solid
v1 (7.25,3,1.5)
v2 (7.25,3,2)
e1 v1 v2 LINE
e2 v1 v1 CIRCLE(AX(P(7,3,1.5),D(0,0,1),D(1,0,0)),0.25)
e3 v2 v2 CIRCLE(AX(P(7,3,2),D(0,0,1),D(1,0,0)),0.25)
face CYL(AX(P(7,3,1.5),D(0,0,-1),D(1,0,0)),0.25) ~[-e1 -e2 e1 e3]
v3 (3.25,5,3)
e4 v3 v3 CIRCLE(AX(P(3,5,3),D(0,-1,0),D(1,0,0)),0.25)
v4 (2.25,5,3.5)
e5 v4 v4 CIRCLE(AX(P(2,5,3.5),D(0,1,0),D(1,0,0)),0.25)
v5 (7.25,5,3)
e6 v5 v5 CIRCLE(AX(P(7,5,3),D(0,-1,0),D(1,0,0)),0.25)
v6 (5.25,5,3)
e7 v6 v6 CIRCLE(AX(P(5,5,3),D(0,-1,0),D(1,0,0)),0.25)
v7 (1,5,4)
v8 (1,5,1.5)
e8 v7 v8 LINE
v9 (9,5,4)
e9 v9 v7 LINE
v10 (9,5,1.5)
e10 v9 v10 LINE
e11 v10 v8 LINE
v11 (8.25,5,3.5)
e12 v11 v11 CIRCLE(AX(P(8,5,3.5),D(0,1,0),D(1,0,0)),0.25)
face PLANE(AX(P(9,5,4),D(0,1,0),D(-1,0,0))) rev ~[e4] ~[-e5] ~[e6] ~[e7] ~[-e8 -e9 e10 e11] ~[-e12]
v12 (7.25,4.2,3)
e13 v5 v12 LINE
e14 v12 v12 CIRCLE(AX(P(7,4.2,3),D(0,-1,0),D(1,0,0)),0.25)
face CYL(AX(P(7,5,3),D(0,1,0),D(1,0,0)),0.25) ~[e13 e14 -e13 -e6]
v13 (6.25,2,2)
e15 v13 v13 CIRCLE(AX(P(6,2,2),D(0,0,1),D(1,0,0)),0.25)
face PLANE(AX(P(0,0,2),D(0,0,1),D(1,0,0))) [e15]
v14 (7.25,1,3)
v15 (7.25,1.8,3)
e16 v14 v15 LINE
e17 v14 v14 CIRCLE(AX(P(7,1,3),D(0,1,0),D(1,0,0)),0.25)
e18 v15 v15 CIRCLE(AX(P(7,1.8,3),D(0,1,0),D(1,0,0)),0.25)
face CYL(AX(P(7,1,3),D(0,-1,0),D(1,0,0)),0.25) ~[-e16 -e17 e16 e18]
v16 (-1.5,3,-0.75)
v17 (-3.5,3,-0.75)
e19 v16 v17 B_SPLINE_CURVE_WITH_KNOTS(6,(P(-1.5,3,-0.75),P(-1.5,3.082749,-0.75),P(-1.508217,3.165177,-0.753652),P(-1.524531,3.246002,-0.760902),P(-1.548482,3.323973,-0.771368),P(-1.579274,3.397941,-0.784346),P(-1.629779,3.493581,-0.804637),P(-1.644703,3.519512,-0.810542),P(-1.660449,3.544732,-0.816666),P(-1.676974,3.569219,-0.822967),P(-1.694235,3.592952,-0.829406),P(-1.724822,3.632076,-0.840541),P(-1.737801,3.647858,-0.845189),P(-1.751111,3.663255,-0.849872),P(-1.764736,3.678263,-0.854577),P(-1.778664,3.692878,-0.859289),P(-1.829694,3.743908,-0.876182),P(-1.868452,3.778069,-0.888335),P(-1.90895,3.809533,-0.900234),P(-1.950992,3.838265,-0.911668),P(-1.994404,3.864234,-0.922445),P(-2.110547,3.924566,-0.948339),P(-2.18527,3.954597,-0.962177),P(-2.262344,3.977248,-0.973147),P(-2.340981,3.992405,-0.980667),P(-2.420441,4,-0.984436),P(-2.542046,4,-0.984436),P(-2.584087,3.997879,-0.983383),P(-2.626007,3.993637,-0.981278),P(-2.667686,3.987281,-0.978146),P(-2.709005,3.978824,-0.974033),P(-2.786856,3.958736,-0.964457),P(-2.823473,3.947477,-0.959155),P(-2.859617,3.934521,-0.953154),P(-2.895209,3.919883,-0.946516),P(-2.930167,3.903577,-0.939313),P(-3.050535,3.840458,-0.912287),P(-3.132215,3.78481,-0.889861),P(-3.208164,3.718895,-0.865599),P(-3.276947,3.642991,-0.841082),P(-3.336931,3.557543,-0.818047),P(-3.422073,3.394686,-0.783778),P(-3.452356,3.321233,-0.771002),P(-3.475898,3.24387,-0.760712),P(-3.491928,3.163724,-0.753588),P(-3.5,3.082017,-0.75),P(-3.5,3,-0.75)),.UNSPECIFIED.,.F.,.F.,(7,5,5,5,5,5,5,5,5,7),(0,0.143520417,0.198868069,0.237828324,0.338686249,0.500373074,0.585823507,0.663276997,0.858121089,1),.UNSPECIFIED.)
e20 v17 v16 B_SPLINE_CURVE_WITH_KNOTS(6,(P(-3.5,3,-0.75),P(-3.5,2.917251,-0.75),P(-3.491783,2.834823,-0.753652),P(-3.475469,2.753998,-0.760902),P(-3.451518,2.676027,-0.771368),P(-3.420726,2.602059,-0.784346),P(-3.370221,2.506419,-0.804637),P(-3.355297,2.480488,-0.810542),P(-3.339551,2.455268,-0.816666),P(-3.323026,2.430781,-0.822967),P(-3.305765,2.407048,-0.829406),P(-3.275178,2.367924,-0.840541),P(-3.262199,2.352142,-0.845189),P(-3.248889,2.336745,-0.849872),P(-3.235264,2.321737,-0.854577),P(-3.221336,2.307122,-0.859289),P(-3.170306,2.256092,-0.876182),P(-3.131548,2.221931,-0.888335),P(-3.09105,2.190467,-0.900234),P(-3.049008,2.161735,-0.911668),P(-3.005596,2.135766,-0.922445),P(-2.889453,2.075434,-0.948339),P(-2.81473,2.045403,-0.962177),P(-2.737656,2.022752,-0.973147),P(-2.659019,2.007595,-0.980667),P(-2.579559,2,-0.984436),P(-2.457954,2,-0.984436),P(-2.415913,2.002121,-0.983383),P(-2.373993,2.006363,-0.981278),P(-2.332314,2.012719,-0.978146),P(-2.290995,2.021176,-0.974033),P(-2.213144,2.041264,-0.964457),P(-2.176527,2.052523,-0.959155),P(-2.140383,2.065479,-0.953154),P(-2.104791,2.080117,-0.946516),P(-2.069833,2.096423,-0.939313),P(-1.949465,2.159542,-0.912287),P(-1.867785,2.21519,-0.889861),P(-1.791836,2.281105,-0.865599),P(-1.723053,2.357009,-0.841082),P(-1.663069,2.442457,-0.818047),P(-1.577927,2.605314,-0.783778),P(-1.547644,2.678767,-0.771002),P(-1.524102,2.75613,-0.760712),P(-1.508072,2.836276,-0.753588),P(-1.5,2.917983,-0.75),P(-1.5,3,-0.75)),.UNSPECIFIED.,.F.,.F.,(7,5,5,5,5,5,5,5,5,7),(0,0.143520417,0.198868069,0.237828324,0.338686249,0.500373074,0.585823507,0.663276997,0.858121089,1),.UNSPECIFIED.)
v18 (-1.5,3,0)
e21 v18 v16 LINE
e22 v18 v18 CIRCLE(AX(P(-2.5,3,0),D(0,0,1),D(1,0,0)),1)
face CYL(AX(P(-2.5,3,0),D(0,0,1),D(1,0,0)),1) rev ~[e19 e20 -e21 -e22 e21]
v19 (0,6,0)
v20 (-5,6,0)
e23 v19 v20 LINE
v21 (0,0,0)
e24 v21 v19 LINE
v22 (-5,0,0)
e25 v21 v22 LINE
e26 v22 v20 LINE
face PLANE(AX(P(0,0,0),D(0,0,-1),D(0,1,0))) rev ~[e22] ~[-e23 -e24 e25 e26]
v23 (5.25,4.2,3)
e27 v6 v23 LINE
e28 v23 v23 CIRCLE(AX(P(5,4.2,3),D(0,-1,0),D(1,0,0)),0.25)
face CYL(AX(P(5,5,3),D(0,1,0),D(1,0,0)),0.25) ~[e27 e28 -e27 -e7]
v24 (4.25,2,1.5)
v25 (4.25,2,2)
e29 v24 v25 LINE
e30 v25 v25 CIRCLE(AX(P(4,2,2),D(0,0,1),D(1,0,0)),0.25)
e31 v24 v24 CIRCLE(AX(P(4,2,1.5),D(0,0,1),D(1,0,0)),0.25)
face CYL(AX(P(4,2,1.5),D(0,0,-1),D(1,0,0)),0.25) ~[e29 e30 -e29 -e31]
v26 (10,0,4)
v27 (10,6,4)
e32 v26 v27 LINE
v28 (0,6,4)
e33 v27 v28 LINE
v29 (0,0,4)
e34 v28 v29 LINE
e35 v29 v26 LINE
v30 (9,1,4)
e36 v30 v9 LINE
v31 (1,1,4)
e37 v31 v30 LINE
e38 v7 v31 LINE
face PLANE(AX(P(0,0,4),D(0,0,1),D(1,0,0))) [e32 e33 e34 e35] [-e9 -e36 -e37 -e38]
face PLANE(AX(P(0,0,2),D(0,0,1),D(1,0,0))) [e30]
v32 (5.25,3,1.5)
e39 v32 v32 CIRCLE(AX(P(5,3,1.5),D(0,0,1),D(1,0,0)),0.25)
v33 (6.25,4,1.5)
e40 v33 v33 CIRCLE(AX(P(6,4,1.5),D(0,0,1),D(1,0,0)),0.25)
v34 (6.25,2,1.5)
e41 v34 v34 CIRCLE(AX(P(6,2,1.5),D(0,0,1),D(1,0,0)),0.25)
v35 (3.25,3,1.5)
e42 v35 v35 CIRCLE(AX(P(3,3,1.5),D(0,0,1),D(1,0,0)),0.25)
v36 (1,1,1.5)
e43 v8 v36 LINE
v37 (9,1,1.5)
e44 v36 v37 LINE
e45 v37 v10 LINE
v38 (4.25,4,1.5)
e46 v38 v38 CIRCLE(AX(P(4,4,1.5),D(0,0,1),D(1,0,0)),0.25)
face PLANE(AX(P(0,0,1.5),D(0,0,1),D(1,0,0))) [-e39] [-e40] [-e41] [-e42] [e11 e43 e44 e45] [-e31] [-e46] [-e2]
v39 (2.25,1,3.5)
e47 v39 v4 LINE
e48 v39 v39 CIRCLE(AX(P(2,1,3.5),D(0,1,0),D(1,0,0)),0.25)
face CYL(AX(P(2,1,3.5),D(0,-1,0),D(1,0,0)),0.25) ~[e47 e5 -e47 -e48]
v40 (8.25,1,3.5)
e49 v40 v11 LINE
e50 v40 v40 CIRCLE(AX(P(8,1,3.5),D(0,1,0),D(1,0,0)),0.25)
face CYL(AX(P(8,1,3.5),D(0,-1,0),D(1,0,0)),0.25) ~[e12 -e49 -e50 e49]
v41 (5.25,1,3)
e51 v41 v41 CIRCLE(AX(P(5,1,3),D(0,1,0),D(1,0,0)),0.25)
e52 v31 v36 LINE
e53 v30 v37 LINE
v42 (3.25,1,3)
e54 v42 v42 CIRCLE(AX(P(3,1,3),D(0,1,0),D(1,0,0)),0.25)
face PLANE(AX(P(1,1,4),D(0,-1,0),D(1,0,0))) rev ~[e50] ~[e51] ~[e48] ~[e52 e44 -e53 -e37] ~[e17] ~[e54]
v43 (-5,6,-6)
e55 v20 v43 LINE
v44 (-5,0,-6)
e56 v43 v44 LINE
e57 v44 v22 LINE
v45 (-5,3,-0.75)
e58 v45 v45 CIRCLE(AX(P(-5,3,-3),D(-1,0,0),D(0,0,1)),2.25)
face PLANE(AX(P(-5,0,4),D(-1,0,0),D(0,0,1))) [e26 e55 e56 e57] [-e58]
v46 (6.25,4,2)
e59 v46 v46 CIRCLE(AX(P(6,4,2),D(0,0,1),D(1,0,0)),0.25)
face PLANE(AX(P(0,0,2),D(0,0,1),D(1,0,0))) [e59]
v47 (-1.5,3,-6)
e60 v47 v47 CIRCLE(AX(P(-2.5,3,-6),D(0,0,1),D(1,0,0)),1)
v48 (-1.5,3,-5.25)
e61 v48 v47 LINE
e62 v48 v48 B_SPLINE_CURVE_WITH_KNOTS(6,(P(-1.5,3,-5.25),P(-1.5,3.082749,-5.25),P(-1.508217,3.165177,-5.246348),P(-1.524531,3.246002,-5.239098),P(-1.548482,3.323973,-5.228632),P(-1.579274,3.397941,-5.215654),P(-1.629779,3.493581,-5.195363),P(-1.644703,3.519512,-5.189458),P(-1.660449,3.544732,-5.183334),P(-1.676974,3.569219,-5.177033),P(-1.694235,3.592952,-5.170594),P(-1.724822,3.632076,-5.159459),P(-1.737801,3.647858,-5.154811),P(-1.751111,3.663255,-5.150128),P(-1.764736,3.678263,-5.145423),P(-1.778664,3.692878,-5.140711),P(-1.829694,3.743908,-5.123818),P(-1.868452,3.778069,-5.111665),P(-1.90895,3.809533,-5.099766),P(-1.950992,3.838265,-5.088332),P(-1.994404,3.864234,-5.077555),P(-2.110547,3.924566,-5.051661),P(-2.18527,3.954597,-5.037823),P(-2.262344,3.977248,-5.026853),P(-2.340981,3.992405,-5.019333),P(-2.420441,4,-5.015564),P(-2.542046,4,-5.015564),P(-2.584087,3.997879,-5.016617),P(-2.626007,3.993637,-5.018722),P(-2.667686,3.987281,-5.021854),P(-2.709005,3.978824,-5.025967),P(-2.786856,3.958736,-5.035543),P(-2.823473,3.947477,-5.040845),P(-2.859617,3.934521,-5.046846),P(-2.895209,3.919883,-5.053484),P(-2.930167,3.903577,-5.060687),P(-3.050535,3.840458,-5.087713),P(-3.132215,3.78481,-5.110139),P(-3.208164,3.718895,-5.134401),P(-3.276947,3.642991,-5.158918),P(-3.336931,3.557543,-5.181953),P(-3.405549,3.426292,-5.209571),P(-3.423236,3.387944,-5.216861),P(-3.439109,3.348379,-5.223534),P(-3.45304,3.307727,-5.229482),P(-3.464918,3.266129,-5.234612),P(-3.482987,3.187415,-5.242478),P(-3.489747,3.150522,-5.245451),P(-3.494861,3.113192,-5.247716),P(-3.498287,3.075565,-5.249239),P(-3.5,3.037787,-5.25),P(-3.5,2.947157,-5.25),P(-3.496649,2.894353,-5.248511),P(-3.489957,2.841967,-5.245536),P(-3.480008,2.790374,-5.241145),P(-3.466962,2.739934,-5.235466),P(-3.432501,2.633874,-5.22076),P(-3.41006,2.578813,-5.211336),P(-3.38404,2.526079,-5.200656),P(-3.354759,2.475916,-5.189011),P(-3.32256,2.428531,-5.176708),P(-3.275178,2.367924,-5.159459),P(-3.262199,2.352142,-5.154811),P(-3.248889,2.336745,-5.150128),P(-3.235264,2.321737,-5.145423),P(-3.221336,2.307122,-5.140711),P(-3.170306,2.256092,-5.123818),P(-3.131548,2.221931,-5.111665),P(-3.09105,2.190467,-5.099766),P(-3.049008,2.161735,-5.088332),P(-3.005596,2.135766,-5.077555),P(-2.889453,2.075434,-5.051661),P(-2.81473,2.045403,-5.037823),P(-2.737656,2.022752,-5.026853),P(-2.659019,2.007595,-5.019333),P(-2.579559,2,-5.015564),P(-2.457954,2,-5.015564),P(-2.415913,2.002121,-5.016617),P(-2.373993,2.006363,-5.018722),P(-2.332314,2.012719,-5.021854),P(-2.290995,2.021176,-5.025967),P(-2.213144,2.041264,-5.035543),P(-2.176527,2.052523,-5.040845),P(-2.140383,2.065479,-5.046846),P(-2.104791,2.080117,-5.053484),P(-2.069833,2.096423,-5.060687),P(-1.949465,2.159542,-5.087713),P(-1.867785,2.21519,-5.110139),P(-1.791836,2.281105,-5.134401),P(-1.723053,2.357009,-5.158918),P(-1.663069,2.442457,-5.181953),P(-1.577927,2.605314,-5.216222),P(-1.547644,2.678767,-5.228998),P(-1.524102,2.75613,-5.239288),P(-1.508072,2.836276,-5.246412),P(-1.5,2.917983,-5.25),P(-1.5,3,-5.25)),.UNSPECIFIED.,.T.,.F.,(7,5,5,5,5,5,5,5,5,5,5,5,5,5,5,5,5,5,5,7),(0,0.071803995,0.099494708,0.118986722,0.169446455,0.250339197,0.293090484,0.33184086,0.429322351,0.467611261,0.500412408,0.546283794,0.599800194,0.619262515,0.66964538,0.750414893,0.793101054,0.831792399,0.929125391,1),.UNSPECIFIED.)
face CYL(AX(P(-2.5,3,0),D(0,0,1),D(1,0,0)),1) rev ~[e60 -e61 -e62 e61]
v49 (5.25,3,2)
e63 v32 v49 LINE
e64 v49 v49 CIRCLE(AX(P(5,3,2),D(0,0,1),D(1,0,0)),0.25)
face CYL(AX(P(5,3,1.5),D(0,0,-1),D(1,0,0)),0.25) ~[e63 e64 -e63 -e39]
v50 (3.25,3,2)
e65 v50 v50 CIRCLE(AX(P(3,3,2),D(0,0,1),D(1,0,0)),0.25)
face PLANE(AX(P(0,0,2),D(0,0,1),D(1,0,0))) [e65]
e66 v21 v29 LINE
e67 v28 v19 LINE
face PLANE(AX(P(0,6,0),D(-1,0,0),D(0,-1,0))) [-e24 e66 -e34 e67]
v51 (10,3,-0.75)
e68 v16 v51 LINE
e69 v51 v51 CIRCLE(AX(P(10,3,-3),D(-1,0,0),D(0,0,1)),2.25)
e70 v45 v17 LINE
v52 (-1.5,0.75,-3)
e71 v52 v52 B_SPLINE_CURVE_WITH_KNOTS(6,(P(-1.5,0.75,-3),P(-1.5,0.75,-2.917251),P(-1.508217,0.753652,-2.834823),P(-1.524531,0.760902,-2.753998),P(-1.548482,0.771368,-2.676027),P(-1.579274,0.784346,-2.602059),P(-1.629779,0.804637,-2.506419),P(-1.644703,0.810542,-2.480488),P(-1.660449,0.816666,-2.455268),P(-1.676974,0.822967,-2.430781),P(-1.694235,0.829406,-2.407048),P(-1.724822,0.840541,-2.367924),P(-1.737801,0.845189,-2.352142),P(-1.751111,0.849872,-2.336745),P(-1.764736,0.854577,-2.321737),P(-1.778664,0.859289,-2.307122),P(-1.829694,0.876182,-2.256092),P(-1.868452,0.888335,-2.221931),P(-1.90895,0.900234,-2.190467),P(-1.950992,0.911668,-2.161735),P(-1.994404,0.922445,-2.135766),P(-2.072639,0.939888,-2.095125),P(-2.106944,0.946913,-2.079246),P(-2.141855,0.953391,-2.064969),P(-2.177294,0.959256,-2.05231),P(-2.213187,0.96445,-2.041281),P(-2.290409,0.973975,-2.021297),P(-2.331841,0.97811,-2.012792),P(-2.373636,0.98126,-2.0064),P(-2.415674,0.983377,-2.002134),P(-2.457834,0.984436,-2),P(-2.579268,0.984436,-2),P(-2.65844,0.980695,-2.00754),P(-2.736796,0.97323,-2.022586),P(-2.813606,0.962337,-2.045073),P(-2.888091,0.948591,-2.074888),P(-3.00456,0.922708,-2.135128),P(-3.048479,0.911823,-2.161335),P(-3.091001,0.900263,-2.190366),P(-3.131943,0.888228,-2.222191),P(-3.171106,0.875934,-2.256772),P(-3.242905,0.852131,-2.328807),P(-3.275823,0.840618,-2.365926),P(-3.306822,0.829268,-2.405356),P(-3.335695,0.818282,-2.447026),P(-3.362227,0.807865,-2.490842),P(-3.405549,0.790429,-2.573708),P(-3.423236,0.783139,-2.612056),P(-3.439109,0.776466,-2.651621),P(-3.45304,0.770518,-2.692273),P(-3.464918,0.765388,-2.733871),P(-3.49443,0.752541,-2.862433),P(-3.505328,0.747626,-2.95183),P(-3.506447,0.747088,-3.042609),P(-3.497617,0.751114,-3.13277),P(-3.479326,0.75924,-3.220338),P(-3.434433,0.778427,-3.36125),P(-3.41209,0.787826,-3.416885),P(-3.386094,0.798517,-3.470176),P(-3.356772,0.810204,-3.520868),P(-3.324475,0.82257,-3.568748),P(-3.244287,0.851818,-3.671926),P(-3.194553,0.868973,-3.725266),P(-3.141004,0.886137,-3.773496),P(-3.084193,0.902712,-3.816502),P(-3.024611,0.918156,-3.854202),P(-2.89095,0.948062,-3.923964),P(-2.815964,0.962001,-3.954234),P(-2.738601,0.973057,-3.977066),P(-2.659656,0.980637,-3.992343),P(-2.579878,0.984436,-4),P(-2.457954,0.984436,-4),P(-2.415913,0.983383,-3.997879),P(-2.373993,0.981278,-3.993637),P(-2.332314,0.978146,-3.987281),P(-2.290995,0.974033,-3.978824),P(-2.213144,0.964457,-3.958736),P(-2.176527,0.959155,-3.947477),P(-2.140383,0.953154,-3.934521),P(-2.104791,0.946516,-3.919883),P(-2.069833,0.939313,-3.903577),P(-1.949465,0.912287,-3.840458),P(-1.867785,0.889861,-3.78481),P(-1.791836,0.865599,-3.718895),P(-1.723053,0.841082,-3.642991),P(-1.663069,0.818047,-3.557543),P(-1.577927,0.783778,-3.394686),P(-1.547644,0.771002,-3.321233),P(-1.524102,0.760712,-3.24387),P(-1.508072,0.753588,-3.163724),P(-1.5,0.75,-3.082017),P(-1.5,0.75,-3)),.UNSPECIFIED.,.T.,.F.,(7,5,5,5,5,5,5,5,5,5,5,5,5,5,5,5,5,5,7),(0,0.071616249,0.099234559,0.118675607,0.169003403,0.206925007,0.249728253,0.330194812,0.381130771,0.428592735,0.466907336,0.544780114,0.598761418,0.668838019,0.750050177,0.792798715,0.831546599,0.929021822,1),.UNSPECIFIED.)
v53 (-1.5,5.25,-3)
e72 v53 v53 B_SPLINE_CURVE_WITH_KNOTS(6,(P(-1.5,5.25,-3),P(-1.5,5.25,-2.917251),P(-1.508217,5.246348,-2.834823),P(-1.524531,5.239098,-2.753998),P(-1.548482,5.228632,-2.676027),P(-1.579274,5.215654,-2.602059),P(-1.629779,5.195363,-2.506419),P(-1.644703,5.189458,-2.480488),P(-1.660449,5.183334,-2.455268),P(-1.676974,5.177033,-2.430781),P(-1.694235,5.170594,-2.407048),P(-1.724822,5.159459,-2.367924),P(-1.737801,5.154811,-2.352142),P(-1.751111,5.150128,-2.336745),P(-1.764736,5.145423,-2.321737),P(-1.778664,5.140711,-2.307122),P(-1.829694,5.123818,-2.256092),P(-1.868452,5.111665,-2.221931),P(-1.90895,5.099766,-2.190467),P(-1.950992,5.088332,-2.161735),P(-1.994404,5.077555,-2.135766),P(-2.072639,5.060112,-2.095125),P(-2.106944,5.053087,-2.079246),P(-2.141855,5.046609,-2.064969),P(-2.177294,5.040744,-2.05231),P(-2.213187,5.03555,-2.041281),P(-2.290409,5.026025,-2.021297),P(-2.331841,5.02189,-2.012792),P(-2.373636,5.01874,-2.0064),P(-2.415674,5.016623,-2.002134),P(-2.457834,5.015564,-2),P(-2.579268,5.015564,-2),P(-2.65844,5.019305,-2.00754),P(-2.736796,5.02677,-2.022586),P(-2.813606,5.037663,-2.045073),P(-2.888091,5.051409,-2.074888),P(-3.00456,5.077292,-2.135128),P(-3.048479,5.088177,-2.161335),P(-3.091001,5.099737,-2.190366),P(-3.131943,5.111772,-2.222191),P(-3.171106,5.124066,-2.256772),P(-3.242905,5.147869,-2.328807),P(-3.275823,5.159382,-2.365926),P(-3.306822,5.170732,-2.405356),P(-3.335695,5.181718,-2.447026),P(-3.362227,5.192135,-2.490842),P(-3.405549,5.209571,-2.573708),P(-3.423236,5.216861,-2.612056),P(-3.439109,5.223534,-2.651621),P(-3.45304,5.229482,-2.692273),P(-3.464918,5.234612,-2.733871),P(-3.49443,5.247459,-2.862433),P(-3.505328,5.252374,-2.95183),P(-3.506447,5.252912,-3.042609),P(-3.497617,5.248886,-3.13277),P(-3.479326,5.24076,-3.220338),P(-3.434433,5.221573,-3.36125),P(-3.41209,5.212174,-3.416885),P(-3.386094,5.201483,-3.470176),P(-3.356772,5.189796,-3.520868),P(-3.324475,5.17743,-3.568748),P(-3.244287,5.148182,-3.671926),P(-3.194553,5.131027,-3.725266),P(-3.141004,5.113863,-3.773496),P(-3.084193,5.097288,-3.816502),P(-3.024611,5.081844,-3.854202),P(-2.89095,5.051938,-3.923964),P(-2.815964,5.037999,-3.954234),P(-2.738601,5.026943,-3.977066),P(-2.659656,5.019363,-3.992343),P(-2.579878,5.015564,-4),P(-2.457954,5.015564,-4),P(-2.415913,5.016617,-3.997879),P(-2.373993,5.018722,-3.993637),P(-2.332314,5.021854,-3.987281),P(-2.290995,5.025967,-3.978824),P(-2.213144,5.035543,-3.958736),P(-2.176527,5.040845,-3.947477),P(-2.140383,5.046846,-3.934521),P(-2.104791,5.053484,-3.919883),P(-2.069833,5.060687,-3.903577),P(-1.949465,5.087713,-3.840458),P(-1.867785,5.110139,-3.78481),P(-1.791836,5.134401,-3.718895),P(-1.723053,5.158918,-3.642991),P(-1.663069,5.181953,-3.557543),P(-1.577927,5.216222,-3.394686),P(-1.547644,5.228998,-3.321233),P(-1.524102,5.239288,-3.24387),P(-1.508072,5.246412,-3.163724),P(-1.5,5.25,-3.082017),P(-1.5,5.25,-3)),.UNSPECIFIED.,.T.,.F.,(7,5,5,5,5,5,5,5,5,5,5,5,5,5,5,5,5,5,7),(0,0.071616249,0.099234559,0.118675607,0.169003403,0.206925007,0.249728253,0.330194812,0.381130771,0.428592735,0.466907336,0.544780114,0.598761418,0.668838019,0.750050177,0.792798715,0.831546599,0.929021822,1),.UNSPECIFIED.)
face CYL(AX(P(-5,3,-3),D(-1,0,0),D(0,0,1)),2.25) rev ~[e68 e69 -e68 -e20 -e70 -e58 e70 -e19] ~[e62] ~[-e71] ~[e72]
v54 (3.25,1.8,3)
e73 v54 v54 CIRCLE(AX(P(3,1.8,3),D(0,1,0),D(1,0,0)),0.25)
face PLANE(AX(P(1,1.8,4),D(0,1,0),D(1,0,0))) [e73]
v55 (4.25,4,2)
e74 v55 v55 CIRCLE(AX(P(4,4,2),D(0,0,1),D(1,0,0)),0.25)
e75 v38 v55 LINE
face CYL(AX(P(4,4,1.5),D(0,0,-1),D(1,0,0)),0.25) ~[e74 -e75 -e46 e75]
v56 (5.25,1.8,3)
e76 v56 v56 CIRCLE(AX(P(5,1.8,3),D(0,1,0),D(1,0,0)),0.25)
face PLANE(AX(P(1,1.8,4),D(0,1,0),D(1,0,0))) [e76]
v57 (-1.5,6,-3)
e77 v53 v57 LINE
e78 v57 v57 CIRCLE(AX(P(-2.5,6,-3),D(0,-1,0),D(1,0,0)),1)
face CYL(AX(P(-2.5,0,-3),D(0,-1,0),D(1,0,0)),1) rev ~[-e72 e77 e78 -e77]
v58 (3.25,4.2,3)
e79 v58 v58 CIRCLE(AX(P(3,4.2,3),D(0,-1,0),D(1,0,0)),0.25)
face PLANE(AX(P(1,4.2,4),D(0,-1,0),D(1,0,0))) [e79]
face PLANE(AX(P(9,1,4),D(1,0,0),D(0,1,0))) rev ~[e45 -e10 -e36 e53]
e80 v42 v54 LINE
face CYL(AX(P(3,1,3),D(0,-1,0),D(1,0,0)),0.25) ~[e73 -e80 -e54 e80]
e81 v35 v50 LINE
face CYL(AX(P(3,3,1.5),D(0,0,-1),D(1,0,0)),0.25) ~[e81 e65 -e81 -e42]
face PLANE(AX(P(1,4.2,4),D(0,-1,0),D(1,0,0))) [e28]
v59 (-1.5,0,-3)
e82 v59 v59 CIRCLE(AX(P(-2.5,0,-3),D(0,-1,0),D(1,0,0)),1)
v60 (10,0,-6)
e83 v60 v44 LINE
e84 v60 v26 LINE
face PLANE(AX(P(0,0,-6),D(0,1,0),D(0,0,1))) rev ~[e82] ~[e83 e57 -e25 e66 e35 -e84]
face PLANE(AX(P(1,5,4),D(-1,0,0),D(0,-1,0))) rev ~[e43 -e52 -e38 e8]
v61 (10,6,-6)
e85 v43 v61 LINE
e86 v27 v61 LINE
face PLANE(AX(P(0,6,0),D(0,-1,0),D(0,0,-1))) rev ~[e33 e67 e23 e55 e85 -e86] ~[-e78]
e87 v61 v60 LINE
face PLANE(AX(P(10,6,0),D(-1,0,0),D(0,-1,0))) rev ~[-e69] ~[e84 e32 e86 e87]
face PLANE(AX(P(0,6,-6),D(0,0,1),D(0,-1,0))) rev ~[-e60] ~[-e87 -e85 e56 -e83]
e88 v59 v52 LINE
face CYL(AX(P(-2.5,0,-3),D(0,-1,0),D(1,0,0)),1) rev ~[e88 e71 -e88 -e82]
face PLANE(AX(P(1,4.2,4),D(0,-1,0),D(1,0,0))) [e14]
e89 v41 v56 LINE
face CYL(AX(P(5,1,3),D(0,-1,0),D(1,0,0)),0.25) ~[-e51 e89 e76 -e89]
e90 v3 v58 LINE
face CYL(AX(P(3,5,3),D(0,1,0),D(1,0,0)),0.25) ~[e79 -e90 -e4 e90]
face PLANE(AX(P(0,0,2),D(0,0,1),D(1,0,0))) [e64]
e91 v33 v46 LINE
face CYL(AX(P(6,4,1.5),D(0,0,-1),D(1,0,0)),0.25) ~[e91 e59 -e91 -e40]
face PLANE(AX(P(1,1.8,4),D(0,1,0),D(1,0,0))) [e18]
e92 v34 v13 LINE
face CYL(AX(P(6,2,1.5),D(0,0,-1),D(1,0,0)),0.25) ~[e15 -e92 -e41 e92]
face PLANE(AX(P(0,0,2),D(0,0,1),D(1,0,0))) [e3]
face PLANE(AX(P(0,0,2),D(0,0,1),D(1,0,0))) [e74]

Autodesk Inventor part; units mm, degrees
ref_plane "YZ Plane" through (0, 0, 0) normal (1, 0, 0) x (0, 1, 0)
ref_plane "XZ Plane" through (0, 0, 0) normal (0, 1, 0) x (-1, 0, 0)
ref_plane "XY Plane" through (0, 0, 0) normal (0, 0, 1) x (1, 0, 0)
sketch "Sketch1" plane through (0, 0, 0) normal (0, 0, 1) x (1, 0, 0)
  line L0 (0, 0) -> (10, 0)
  line L1 (10, 0) -> (10, 6)
  line L2 (10, 6) -> (0, 6)
  line L3 (0, 6) -> (0, 0)
  dimension "d0" = 10
  dimension "d1" = 6
extrude "Extrusion1" add sketch "Sketch1" along normal blind 4
sketch "Sketch2" plane through (0, 0, 4) normal (0, 0, 1) x (1, 0, 0)
  line L0 (1, 1) -> (9, 1)
  line L1 (9, 1) -> (9, 5)
  line L2 (9, 5) -> (1, 5)
  line L3 (1, 5) -> (1, 1)
  point P0 (0, 0)
  dimension "d4" = 8
  dimension "d5" = 4
extrude "Extrusion2" cut sketch "Sketch2" against normal blind 2.5
sketch "Sketch5" plane through (1, 1, 4) normal (0, 1, 0) x (1, 0, 0)
  circle A0 centre (1, 0.5) radius 0.25
  point P0 (-1, 4)
  dimension "d14" = 0.5
sketch "Sketch6" plane through (1, 1, 4) normal (0, 1, 0) x (1, 0, 0)
  circle A0 centre (7, 0.5) radius 0.25
  point P0 (-1, 4)
  dimension "d15" = 0.5
extrude "Extrusion4" add sketch "Sketch5" along normal blind 4
extrude "Extrusion5" add sketch "Sketch6" along normal blind 4
sketch "Sketch14" plane through (0, 0, 0) normal (0, 0, -1) x (-1, 0, 0)
  line L0 (0, 6) -> (0, 0) projected
  line L1 (0, 0) -> (-10, 0) projected
  line L2 (0, 6) -> (-10, 6)
  line L3 (-10, 6) -> (-10, 0)
  line L4 (-10, 0) -> (0, 0)
  line L5 (0, 0) -> (0, 6)
extrude "Extrusion12" add sketch "Sketch14" along normal blind 6
sketch "Sketch15" plane through (0, 0, 4) normal (-1, 0, 0) x (0, 0, 1)
  line L0 (-10, 0) -> (0, 0) projected
  line L1 (-10, 0) -> (-4, 0)
  line L2 (-4, 0) -> (-4, 6)
  line L3 (-4, 6) -> (-10, 6)
  line L4 (-10, 6) -> (-10, 0)
  point P0 (-4, 0)
  dimension "d42" = 6
  dimension "d43" = 6
extrude "Extrusion13" add sketch "Sketch15" along normal blind 5
sketch "Sketch16" plane through (-5, 0, 4) normal (-1, 0, 0) x (0, 0, 1)
  circle A0 centre (-7, 3) radius 2.25
  point P0 (-4, 0)
  dimension "d46" = 4.5
extrude "Extrusion14" cut sketch "Sketch16" against normal blind 15
sketch "Sketch17" plane through (0, 0, 1.5) normal (0, 0, 1) x (1, 0, 0)
  circle A0 centre (3, 3) radius 0.25
  point P0 (0, 0)
  dimension "d49" = 0.5
extrude "Extrusion15" add sketch "Sketch17" along normal blind 0.5
sketch "Sketch18" plane through (0, 0, 1.5) normal (0, 0, 1) x (1, 0, 0)
  circle A0 centre (5, 3) radius 0.25
  circle A1 centre (7, 3) radius 0.25
  circle A2 centre (4, 4) radius 0.25
  circle A3 centre (6, 4) radius 0.25
  circle A4 centre (4, 2) radius 0.25
  circle A5 centre (6, 2) radius 0.25
  point P0 (0, 0)
  dimension "d52" = 0.5
  dimension "d53" = 0.5
  dimension "d54" = 0.5
  dimension "d55" = 0.5
  dimension "d56" = 0.5
  dimension "d57" = 0.5
extrude "Extrusion16" add sketch "Sketch18" along normal blind 0.5
sketch "Sketch19" plane through (1, 1, 4) normal (0, 1, 0) x (1, 0, 0)
  point P0 (-1, 4)
sketch "Sketch20" plane through (1, 1, 4) normal (0, 1, 0) x (1, 0, 0)
  circle A0 centre (2, 1) radius 0.25
  circle A1 centre (4, 1) radius 0.25
  circle A2 centre (6, 1) radius 0.25
  point P0 (-1, 4)
  dimension "d60" = 0.5
  dimension "d61" = 0.5
  dimension "d62" = 0.5
extrude "Extrusion17" add sketch "Sketch20" along normal blind 0.8
sketch "Sketch21" plane through (1, 5, 4) normal (0, -1, 0) x (1, 0, 0)
  circle A0 centre (2, -1) radius 0.25
  circle A1 centre (4, -1) radius 0.25
  circle A2 centre (6, -1) radius 0.25
  point P0 (-1, -4)
  dimension "d65" = 0.5
  dimension "d66" = 0.5
  dimension "d67" = 0.5
extrude "Extrusion18" add sketch "Sketch21" along normal blind 0.8
sketch "Sketch22" plane through (0, 0, 0) normal (0, 0, 1) x (1, 0, 0)
  circle A0 centre (-2.5, 3) radius 1
  point P0 (0, 0)
  dimension "d70" = 2
extrude "Extrusion19" cut sketch "Sketch22" against normal blind 6
sketch "Sketch23" plane through (0, 0, 4) normal (0, -1, 0) x (1, 0, 0)
  point P0 (0, -4)
sketch "Sketch24" plane through (0, 0, 4) normal (0, -1, 0) x (1, 0, 0)
  circle A0 centre (-2.5, -7) radius 1
  point P0 (0, -4)
  dimension "d73" = 2
extrude "Extrusion20" cut sketch "Sketch24" against normal blind 6
properties part number "20190425_NewHolde3"
